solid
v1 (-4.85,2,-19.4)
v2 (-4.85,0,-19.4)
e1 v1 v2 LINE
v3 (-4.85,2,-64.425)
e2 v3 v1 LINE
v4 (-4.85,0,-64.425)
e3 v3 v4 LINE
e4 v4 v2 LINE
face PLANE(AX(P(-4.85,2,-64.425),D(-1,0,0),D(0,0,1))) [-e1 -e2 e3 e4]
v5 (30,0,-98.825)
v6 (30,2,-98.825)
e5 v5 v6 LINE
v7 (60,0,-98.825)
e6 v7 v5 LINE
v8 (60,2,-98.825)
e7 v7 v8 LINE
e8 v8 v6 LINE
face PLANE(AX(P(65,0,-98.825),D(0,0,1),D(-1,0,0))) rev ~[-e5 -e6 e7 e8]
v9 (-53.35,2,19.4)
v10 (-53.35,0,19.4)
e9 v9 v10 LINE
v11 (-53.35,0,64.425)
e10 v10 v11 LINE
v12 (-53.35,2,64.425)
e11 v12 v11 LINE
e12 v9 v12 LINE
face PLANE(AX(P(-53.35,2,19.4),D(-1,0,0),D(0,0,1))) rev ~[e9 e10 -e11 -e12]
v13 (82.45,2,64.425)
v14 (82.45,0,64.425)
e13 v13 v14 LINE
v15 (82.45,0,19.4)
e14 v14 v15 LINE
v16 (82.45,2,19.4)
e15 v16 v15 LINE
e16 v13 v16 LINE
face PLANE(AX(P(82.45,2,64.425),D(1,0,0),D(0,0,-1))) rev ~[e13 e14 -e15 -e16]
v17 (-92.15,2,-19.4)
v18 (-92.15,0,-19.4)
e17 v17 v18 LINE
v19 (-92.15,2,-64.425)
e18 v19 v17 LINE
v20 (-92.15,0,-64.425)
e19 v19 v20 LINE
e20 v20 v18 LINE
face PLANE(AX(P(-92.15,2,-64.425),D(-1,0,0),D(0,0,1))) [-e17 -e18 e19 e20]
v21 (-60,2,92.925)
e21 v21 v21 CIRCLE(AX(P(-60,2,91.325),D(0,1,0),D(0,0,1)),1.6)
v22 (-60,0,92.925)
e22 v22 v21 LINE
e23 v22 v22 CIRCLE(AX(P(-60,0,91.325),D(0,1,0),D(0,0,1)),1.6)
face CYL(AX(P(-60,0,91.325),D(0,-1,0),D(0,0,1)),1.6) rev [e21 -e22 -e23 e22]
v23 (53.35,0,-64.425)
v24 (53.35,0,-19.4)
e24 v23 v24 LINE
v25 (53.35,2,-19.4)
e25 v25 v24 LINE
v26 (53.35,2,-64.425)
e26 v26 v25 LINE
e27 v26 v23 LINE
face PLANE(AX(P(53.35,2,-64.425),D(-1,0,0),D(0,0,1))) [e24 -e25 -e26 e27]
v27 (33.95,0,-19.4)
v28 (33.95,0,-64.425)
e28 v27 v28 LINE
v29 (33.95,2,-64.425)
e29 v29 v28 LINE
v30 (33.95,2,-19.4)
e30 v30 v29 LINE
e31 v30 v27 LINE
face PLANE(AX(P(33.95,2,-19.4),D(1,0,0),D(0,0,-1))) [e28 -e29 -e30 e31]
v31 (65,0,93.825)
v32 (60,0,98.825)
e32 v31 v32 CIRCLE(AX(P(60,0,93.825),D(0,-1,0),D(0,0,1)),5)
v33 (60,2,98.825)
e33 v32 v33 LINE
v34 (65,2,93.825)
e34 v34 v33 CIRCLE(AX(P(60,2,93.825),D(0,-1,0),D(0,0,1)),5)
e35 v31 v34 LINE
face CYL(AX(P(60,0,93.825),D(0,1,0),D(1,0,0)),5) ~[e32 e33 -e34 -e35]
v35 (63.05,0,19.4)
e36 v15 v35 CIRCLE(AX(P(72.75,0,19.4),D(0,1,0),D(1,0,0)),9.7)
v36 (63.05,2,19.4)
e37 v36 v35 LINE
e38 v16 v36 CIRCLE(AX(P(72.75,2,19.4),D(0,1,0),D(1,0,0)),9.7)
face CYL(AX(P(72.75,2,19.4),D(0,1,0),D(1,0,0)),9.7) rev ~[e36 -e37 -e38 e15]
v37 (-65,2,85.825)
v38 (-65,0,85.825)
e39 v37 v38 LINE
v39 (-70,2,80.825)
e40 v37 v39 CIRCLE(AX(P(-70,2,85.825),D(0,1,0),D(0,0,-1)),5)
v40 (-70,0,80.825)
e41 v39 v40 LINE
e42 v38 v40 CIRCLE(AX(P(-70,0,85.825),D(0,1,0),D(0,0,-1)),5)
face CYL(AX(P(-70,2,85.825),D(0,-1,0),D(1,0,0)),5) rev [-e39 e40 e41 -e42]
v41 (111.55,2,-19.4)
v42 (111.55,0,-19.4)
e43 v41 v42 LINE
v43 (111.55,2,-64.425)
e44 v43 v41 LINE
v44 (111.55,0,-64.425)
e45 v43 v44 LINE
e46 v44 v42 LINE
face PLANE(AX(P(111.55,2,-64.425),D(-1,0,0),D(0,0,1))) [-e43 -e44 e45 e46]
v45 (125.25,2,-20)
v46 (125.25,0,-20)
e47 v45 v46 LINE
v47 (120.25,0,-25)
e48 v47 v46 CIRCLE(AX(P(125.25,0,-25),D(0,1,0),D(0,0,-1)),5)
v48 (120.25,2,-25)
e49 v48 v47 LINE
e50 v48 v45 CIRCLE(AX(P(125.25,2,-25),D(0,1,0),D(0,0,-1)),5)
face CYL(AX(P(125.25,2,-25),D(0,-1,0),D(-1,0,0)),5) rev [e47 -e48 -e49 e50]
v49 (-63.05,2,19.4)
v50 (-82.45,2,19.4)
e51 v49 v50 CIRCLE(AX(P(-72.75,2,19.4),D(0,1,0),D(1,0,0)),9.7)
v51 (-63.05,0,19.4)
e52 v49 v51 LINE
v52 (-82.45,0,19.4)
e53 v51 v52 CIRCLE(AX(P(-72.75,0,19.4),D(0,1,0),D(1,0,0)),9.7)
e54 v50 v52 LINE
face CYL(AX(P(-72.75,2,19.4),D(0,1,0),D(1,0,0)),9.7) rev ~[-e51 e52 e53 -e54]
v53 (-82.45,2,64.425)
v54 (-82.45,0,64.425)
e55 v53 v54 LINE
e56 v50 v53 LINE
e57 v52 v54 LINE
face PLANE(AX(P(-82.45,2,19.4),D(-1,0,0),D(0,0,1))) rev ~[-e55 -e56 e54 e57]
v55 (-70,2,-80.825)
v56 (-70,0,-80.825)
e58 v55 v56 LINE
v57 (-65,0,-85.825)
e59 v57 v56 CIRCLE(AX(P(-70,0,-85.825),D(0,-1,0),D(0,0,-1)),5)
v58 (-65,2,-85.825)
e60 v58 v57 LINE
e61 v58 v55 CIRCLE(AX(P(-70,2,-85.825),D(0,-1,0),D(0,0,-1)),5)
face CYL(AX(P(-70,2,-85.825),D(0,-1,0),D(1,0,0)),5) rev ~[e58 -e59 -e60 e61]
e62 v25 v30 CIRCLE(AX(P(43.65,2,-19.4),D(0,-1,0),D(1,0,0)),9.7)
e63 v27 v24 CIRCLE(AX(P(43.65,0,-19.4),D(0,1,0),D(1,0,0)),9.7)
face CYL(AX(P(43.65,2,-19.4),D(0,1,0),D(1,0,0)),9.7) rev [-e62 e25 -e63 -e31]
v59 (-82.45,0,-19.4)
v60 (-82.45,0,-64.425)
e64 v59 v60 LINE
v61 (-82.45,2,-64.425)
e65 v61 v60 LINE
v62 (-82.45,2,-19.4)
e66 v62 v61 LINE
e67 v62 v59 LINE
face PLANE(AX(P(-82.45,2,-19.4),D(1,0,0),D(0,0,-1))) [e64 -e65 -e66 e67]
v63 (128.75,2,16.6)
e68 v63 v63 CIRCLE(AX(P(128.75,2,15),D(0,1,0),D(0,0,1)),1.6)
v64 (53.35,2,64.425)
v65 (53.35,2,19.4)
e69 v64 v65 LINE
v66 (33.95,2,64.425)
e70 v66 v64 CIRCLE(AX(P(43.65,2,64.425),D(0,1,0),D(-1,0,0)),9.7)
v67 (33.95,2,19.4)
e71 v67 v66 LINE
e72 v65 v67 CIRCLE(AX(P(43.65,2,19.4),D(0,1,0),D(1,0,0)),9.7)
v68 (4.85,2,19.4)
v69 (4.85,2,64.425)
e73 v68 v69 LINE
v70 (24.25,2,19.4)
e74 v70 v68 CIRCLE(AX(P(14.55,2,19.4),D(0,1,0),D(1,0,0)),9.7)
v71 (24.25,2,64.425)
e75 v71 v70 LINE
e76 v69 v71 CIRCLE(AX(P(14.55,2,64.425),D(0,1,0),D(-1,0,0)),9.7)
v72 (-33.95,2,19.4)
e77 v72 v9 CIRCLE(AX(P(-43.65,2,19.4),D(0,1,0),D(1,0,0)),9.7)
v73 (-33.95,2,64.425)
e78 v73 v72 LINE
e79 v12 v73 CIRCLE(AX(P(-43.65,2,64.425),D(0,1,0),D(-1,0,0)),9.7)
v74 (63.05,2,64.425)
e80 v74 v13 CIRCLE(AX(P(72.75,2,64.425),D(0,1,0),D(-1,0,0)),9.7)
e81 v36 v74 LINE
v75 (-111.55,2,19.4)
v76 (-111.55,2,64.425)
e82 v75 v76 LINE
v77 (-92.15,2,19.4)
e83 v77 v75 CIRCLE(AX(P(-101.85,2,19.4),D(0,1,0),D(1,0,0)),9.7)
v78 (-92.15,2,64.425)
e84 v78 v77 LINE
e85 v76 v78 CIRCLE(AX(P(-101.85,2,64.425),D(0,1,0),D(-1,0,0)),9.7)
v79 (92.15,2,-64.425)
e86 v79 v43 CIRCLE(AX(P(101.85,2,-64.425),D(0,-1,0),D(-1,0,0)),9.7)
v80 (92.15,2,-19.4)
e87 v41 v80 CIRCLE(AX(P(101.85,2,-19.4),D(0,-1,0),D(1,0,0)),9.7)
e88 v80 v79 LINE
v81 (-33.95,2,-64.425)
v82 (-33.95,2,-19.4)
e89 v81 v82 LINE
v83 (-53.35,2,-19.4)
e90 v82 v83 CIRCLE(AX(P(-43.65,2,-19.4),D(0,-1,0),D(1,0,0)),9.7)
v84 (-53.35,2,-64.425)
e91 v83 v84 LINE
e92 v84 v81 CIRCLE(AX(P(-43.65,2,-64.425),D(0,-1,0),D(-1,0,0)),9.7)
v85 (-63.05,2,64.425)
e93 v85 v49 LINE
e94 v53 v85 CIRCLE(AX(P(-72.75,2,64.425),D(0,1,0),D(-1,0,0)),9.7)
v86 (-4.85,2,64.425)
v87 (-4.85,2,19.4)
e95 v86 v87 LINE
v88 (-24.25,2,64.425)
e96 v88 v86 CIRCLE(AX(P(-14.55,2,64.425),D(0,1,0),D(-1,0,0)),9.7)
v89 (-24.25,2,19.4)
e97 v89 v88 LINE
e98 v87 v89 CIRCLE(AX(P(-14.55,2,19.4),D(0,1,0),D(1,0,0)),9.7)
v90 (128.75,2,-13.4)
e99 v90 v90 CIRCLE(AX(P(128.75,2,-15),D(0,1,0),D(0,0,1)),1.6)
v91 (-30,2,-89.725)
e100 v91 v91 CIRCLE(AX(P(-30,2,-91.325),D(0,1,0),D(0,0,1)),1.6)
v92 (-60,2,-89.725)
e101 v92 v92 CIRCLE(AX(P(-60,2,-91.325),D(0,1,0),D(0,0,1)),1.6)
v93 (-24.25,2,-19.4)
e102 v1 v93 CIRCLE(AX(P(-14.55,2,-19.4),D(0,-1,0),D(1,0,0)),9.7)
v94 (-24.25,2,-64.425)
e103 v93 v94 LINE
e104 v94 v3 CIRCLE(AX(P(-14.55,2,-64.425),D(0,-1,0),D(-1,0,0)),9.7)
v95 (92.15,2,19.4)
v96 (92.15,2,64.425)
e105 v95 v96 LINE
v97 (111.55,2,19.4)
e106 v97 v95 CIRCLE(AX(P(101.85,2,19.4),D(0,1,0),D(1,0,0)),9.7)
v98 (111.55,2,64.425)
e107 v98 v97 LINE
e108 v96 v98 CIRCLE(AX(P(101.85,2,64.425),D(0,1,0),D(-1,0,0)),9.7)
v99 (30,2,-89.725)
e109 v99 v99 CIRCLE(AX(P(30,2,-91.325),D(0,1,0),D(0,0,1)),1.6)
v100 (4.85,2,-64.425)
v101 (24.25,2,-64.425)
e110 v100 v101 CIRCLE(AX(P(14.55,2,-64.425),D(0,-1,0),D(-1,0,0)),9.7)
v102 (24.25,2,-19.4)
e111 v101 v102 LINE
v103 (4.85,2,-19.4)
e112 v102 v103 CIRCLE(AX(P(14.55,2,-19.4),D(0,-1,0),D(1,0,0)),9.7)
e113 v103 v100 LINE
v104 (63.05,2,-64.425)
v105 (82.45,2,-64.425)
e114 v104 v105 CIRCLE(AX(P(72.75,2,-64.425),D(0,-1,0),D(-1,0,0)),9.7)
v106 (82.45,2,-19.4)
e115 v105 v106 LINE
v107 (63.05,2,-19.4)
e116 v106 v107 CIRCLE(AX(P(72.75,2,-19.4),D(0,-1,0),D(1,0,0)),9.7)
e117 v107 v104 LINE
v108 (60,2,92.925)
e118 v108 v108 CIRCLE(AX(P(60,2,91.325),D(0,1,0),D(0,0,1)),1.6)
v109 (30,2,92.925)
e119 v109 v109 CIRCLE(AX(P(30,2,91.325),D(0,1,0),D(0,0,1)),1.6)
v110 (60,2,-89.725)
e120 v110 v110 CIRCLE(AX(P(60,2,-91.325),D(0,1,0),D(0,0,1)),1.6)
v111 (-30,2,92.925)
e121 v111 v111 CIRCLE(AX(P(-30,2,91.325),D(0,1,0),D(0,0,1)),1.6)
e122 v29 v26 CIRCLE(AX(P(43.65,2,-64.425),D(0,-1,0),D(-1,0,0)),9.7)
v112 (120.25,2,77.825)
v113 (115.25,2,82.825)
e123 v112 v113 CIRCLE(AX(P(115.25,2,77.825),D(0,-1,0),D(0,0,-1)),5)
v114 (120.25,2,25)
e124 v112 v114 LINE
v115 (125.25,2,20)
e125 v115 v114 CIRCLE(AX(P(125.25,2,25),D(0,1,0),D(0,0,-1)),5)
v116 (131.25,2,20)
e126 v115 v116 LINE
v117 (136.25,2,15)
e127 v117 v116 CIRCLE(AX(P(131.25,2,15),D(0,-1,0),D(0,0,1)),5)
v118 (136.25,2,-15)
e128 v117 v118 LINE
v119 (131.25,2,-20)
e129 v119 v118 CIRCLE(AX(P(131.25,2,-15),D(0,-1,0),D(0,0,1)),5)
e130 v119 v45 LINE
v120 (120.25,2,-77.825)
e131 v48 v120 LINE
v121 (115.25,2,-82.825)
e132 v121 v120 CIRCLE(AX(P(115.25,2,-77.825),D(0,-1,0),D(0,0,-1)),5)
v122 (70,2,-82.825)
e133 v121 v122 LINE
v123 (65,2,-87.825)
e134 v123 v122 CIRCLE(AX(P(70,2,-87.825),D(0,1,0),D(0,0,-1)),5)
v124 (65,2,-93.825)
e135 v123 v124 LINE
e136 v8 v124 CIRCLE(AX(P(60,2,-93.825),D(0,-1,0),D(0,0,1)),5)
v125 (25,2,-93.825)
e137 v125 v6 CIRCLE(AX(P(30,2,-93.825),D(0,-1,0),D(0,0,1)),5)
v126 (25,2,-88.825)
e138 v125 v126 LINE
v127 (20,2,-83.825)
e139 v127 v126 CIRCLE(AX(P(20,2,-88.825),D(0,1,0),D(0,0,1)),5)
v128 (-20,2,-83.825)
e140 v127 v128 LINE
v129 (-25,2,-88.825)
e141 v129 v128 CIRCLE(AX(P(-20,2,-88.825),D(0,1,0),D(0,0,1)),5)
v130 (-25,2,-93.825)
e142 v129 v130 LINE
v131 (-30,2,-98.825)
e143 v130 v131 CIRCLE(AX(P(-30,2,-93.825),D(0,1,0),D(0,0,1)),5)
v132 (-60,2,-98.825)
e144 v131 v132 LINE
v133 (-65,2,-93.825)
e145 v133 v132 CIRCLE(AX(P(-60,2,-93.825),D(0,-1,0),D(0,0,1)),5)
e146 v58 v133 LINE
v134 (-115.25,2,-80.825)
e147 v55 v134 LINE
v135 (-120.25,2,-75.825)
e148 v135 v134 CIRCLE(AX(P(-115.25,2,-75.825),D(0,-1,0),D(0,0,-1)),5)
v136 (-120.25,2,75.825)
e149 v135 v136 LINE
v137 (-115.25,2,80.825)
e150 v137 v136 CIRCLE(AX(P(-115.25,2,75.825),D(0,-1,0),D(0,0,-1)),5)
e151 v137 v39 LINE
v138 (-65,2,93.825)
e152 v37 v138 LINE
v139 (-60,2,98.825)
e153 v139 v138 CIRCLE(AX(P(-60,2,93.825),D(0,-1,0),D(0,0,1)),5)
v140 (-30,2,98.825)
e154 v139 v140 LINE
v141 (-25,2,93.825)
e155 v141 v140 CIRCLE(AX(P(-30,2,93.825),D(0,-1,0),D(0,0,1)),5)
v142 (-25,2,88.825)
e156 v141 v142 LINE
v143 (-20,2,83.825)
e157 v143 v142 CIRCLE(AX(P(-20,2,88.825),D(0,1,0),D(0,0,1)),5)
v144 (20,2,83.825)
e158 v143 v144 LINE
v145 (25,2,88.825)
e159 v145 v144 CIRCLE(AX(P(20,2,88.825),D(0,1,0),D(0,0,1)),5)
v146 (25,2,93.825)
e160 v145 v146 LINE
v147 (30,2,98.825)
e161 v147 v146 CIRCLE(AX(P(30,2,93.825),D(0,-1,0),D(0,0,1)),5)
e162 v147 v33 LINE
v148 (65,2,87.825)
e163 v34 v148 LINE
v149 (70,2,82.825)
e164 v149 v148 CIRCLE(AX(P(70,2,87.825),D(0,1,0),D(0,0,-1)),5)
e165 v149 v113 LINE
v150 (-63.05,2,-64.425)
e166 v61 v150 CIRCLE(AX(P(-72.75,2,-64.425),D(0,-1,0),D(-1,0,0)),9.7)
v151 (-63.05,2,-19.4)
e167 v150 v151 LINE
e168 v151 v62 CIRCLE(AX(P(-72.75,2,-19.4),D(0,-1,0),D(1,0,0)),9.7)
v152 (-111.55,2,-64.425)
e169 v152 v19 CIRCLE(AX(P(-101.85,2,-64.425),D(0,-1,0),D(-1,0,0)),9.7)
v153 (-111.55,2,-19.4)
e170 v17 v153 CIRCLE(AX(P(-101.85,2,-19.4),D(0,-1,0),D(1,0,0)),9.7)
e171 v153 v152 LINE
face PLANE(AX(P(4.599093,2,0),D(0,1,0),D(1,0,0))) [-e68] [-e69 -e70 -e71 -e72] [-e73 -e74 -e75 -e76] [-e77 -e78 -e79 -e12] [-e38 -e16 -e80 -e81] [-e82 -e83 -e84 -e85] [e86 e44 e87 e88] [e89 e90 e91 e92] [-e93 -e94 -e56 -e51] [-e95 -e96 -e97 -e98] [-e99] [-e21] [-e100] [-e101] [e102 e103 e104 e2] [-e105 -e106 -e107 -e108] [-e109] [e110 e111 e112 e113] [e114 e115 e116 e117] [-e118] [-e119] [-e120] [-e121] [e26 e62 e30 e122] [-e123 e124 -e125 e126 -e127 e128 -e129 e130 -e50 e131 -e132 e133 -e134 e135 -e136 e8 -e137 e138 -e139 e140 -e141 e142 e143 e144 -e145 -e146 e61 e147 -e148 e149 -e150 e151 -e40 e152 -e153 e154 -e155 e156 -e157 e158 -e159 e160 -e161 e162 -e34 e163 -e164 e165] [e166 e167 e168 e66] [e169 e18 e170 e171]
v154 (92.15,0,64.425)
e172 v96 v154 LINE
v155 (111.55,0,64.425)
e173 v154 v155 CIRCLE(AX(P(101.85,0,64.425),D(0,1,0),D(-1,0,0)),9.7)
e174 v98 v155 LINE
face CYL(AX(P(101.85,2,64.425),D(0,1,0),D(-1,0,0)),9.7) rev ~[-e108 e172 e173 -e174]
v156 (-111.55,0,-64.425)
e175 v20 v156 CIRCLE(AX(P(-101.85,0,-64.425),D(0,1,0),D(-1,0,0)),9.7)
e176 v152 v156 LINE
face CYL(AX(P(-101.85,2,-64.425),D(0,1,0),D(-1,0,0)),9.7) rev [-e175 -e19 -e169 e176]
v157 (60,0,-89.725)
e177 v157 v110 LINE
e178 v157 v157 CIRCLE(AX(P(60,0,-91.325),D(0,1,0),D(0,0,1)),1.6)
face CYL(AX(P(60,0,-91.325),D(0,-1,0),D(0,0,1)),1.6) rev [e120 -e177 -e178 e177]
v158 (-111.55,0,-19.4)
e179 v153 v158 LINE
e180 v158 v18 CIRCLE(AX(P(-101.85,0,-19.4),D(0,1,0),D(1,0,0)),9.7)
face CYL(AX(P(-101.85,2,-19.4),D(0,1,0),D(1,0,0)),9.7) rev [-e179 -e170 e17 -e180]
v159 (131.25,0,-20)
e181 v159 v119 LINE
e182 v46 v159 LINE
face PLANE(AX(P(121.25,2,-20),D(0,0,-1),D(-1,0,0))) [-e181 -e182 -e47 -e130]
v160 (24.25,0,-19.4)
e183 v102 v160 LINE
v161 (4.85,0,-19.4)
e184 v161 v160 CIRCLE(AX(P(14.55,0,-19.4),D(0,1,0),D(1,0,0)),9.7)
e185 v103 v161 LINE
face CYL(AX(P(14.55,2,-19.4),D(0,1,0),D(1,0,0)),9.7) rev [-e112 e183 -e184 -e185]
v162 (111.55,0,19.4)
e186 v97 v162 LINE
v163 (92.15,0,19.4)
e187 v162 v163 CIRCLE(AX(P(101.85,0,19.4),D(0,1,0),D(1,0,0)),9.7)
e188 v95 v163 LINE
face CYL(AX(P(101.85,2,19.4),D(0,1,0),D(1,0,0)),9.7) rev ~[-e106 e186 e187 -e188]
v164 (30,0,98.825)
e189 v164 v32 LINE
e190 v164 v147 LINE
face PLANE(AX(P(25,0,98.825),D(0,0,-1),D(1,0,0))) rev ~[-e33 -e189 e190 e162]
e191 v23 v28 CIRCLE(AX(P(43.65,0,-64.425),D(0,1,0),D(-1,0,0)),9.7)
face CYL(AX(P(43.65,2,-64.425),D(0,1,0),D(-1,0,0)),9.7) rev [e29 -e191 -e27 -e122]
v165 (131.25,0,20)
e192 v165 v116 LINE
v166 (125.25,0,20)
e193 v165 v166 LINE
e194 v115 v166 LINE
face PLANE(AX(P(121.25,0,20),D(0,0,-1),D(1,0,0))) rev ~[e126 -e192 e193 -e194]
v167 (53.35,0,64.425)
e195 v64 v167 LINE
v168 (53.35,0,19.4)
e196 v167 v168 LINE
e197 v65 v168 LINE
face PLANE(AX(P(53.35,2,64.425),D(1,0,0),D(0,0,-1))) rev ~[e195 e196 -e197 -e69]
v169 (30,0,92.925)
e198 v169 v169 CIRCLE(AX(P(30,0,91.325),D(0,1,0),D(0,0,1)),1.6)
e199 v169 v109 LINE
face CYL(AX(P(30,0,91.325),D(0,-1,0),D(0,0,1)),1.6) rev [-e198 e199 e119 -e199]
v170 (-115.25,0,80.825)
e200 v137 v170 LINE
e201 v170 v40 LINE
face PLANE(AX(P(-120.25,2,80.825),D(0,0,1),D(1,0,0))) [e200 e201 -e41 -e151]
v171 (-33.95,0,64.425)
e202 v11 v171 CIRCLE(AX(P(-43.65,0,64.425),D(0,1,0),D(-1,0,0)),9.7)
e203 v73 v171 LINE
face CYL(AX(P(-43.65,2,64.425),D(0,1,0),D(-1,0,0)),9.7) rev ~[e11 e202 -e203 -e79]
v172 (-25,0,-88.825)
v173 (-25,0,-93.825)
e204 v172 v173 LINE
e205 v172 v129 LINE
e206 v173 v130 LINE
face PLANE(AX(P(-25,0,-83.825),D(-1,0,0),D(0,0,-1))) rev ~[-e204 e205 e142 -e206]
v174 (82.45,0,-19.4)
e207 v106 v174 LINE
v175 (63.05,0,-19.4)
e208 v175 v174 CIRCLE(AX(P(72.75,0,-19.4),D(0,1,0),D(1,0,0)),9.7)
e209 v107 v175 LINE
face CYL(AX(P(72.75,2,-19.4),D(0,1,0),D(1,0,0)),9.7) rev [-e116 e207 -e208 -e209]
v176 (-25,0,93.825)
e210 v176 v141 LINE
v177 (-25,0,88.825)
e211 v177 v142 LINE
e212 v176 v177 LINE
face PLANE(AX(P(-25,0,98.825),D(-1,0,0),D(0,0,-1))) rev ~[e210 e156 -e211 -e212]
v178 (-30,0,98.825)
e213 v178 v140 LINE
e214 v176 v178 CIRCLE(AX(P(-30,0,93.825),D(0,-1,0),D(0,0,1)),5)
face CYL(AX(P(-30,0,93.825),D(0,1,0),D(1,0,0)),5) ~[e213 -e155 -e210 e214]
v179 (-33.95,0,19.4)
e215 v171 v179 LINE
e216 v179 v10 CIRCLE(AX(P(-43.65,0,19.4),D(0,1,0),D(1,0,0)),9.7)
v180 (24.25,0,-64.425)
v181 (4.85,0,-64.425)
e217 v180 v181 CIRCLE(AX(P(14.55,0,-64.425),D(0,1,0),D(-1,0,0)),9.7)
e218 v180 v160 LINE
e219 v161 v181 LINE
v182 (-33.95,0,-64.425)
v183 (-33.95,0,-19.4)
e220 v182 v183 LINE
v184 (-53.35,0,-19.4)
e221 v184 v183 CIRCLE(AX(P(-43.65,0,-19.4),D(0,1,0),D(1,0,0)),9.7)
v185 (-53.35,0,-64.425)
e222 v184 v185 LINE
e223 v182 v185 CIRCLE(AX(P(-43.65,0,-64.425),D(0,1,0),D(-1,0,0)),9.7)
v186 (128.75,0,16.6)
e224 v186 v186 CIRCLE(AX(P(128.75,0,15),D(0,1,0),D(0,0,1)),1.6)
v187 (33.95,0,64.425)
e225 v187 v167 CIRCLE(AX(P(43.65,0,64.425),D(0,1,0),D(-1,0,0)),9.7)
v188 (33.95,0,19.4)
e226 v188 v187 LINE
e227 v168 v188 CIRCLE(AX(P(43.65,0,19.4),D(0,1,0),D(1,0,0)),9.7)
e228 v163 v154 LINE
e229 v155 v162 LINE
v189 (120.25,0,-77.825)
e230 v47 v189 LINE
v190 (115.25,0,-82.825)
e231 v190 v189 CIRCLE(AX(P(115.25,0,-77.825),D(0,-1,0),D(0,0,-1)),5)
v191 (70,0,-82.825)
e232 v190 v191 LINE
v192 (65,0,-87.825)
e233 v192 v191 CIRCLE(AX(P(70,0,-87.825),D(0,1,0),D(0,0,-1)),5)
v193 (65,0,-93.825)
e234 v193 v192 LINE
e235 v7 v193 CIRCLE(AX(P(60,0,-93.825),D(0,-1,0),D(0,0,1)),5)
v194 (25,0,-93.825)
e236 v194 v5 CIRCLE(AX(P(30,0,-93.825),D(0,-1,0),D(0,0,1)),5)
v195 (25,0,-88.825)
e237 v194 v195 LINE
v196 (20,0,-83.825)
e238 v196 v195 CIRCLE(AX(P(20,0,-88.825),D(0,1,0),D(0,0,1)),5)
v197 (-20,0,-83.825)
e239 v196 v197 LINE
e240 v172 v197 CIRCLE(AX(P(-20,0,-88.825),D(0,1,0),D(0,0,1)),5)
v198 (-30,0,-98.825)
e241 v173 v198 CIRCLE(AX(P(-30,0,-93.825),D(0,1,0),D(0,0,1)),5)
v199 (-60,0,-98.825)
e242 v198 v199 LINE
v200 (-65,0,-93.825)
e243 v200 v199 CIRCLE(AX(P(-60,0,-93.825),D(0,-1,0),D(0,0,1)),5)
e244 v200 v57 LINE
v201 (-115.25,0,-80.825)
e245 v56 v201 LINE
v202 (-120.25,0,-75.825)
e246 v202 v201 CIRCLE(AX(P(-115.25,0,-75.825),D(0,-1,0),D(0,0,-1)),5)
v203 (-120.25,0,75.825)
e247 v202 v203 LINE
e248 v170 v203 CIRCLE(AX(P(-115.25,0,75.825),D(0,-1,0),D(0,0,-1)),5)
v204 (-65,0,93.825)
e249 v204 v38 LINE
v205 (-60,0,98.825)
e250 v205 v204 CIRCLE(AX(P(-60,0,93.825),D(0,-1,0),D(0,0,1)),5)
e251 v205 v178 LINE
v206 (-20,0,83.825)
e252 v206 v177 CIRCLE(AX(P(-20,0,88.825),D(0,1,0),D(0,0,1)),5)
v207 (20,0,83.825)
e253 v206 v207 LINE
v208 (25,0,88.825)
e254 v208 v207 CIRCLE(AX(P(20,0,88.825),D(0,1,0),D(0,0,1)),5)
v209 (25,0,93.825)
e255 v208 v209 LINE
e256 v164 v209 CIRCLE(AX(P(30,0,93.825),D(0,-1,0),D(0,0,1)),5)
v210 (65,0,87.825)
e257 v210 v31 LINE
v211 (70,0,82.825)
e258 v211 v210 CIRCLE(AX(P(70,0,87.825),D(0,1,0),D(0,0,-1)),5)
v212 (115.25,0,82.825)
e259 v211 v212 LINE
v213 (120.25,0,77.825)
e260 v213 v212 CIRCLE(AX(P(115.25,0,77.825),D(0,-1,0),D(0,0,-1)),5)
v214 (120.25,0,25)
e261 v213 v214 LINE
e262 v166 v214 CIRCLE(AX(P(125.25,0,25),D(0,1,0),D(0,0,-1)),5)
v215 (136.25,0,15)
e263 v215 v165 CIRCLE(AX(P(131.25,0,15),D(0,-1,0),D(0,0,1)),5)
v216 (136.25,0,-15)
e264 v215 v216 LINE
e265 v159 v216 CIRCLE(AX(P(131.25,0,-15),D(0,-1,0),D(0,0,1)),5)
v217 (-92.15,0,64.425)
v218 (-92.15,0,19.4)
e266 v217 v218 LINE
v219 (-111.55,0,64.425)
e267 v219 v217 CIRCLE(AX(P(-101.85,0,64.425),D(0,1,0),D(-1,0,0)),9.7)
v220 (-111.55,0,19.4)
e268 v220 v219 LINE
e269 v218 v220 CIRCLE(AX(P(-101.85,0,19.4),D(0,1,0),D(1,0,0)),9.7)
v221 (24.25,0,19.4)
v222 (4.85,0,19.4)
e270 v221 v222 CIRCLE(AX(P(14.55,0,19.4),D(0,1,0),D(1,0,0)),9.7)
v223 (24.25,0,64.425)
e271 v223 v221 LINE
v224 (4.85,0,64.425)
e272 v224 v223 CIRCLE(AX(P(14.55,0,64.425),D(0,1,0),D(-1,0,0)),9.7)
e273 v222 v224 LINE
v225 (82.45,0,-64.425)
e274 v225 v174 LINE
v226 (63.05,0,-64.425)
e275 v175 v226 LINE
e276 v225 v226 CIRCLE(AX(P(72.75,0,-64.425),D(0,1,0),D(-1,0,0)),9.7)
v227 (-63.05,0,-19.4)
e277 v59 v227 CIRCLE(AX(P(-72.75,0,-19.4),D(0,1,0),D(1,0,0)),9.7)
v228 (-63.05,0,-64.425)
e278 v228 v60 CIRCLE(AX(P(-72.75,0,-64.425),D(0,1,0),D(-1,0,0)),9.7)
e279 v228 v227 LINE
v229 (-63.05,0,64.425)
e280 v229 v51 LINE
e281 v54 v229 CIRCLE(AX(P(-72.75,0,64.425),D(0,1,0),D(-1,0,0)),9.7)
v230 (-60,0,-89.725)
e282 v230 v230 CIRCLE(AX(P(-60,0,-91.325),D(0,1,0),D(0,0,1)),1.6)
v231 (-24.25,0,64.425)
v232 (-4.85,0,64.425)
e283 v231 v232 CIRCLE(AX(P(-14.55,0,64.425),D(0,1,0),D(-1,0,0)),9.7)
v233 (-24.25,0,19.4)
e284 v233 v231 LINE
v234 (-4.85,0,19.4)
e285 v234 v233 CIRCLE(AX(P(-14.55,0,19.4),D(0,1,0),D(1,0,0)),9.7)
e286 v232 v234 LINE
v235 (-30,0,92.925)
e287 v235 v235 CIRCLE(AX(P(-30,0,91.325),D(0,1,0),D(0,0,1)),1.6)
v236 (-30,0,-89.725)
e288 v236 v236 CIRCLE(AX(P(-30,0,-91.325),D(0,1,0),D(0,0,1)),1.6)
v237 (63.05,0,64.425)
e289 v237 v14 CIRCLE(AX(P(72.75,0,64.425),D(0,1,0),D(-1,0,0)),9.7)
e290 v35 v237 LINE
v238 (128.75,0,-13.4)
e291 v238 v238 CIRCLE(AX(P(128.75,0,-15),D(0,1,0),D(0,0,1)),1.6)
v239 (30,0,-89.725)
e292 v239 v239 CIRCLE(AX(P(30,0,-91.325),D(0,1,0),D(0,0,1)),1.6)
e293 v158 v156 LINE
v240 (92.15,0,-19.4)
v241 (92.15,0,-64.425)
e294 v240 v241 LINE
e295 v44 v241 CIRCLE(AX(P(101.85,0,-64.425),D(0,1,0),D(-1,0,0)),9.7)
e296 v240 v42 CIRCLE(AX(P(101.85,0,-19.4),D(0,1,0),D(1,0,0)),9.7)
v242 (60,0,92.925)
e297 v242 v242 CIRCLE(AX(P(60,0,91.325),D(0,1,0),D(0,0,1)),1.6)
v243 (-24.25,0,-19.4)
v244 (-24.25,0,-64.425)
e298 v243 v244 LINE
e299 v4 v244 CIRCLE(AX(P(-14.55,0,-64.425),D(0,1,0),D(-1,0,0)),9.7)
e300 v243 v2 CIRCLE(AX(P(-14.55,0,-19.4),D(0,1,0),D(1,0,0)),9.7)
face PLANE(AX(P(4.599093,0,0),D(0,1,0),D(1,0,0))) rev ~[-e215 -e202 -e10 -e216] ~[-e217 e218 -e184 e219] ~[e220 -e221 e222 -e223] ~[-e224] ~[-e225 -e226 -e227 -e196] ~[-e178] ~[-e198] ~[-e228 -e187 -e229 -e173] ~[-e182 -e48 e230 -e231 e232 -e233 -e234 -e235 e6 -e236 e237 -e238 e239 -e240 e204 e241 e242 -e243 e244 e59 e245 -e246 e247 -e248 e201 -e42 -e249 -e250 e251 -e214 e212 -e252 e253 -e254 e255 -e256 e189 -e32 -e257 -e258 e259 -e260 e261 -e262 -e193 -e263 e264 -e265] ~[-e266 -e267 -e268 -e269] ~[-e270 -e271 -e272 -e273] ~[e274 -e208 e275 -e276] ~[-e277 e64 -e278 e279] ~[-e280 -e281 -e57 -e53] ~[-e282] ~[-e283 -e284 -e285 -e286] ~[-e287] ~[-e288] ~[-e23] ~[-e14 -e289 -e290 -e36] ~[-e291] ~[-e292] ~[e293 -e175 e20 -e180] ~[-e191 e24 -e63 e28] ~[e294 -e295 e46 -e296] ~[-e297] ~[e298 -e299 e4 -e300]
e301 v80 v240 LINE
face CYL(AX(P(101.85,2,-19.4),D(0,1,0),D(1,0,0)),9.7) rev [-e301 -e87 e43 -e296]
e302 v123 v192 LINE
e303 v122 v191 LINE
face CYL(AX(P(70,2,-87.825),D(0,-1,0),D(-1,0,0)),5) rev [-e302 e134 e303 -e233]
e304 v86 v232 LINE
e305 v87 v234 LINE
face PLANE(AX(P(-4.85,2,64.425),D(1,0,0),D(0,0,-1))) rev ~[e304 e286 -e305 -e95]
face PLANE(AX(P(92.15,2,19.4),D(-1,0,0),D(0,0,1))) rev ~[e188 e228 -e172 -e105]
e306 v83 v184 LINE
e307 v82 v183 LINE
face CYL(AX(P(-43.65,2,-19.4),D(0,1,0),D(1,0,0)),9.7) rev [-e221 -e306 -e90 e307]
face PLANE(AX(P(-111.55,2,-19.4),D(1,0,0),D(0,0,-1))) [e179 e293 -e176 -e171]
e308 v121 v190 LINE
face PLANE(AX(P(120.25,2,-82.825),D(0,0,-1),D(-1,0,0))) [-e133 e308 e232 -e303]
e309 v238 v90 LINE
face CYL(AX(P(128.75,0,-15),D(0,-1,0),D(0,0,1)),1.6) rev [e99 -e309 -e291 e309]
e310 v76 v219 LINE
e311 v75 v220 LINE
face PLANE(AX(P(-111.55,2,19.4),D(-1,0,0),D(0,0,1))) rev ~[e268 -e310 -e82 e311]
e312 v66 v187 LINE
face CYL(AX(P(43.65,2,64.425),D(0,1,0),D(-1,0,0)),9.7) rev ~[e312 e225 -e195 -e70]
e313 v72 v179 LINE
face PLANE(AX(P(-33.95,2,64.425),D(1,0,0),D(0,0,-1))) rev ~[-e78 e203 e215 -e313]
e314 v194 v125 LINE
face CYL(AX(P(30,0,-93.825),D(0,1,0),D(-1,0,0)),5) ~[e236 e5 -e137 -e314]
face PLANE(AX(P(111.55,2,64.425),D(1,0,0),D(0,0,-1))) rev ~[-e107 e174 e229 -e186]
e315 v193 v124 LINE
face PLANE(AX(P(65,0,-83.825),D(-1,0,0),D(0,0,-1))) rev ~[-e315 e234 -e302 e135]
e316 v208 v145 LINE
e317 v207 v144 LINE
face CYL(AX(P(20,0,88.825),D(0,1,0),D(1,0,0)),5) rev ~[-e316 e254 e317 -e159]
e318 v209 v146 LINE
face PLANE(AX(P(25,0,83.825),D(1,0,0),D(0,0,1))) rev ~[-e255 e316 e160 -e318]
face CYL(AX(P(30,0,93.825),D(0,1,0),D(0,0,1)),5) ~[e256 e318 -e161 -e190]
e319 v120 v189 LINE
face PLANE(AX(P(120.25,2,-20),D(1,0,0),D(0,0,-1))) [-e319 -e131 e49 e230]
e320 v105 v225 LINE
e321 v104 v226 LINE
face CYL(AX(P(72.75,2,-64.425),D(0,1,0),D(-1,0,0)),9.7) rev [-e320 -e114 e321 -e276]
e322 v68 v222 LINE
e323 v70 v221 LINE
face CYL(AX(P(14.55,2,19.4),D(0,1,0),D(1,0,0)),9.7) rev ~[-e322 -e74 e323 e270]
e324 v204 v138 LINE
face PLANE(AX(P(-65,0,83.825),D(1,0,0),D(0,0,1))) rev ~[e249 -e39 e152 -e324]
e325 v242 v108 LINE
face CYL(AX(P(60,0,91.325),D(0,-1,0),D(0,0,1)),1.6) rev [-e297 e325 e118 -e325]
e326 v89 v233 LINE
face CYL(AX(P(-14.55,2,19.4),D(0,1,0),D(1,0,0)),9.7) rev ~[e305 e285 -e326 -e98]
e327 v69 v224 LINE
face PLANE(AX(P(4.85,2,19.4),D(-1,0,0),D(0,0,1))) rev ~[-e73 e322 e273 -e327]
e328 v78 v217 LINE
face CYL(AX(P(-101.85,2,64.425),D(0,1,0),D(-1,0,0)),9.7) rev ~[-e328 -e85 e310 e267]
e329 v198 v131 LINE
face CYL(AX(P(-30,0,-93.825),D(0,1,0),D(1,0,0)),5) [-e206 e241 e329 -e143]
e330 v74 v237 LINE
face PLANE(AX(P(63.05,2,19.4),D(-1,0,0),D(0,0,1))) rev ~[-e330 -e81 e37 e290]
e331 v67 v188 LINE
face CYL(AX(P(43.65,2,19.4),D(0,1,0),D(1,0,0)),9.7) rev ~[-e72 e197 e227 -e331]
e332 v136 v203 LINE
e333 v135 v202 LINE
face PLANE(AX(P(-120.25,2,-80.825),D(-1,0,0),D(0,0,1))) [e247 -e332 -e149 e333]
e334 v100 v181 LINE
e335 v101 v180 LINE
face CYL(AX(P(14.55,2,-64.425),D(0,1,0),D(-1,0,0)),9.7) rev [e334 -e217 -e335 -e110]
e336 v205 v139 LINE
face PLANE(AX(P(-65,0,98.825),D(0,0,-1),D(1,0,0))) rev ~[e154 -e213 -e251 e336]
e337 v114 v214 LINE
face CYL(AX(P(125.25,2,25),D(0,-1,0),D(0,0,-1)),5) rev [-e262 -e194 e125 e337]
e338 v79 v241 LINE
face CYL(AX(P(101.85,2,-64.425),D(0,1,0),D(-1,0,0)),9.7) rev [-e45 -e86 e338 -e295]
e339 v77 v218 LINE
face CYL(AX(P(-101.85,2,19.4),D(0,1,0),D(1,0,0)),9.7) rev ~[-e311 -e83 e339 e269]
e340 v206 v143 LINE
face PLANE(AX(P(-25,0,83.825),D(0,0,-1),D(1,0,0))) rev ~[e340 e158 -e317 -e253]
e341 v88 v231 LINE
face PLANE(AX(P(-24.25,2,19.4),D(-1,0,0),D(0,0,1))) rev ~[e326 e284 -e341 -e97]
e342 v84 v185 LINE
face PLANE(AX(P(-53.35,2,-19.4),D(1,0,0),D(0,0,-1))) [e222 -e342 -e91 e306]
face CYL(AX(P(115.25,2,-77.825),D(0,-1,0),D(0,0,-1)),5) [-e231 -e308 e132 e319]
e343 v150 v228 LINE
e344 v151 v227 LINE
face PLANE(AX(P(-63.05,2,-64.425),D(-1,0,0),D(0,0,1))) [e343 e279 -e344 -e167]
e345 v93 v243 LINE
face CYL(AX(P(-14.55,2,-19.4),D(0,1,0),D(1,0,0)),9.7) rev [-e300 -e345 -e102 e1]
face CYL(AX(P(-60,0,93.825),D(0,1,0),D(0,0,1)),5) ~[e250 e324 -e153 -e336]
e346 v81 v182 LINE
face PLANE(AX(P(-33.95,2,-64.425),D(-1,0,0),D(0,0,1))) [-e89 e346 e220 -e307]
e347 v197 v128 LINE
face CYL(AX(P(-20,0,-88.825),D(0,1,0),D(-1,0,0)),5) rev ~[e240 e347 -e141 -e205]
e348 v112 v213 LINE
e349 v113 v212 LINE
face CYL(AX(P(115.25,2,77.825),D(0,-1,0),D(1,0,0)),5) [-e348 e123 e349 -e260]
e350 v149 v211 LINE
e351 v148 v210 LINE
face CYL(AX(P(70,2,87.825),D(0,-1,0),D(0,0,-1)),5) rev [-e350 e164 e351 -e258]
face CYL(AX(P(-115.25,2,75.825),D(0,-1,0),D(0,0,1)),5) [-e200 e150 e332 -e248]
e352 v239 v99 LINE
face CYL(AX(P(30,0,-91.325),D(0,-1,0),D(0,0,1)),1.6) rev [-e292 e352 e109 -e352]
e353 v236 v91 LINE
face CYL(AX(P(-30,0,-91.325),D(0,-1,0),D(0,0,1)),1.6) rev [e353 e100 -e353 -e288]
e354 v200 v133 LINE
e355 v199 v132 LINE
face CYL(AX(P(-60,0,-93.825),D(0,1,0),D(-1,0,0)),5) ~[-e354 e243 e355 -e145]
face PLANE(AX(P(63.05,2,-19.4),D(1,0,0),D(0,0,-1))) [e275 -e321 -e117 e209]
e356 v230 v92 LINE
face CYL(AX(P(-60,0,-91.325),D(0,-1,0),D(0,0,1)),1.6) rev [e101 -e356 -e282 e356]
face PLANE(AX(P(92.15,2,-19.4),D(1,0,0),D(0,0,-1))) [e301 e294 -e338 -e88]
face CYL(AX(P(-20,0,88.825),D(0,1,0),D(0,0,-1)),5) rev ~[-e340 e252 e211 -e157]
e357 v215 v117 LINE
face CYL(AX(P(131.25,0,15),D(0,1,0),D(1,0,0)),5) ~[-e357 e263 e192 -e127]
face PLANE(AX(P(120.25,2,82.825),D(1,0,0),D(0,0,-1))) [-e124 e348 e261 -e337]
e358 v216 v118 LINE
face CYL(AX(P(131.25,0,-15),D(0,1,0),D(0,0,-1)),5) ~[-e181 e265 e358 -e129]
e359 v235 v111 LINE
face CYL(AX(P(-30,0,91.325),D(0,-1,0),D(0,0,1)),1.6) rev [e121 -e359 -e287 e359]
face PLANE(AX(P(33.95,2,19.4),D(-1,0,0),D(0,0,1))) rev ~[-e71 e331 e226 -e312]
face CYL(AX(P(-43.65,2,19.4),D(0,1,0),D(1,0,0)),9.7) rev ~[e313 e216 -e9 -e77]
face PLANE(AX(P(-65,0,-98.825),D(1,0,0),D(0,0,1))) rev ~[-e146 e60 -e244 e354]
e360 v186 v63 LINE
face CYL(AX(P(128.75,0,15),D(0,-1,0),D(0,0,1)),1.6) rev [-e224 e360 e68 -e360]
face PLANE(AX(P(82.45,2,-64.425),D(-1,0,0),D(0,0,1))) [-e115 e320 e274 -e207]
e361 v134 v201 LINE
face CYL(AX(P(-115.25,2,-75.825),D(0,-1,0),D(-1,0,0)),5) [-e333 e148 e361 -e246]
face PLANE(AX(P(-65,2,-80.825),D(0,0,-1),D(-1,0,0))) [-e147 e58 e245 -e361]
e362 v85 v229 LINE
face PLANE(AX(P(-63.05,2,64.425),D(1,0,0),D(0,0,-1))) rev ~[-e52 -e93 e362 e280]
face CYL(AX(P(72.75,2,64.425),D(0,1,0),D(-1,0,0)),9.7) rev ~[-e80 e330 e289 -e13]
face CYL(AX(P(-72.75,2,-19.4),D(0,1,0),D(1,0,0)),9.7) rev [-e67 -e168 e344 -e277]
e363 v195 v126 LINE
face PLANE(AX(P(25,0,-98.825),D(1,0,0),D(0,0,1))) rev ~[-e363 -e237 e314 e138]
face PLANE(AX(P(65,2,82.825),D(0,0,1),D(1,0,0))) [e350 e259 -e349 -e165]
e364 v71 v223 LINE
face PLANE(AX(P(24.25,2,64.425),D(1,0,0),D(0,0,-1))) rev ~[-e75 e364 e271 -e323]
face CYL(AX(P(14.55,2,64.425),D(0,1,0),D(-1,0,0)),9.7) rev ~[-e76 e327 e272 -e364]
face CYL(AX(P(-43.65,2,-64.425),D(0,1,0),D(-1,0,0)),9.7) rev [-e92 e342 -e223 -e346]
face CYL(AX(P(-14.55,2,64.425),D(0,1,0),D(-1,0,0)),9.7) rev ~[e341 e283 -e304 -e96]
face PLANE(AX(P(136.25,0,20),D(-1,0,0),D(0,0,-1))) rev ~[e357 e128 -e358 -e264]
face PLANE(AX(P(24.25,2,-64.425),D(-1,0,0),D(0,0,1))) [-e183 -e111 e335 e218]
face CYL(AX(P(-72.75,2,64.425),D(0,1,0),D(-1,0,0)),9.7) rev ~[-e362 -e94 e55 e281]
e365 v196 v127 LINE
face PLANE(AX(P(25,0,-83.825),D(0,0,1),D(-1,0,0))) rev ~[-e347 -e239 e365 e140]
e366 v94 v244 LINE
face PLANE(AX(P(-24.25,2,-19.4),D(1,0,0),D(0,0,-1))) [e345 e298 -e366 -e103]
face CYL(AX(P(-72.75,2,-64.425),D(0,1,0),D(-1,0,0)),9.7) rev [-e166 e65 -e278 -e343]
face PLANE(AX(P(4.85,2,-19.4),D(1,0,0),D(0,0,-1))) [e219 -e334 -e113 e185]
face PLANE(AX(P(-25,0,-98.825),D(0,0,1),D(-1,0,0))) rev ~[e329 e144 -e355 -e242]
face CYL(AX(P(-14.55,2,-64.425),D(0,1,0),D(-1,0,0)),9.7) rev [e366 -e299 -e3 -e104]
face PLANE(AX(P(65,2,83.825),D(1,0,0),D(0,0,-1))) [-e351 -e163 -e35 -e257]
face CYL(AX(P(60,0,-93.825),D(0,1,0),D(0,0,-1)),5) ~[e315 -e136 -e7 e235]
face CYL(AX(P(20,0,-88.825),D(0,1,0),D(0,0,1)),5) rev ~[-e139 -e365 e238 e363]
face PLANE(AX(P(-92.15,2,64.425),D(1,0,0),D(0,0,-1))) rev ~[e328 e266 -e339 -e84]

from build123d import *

# Parameters (mm, degrees)
SKETCH_1_R          = 1.6
EXTRUDE_1_DEPTH     = 2
CUT_EXTRUDE_3_DEPTH = 169.328378846
CUT_EXTRUDE_4_DEPTH = 169.328378846
FILLET_2_R          = 5


with BuildPart() as part:
    # 草图1 → 凸台-拉伸1 (new body)
    with BuildSketch(Plane(origin=(0, 0, 0), x_dir=(1, 0, 0), z_dir=(0, 1, 0))):
        Polygon((-121.25, 83.825), (-121.25, -83.825), (-65, -83.825), (-65, -98.825), (-25, -98.825), (-25, -83.825), (25, -83.825), (25, -98.825), (65, -98.825), (65, -83.825), (121.25, -83.825), (121.25, -20), (136.25, -20), (136.25, 20), (121.25, 20), (121.25, 83.825), (65, 83.825), (65, 98.825), (25, 98.825), (25, 83.825), (-25, 83.825), (-25, 98.825), (-65, 98.825), (-65, 83.825), align=None)
        with Locations(Location((-30, -91.325, 0), (0, 0, 270))):
            Circle(SKETCH_1_R, mode=Mode.SUBTRACT)
        with Locations(Location((-60, -91.325, 0), (0, 0, 270))):
            Circle(SKETCH_1_R, mode=Mode.SUBTRACT)
        with Locations(Location((-30, 91.325, 0), (0, 0, 270))):
            Circle(SKETCH_1_R, mode=Mode.SUBTRACT)
        with Locations(Location((-60, 91.325, 0), (0, 0, 270))):
            Circle(SKETCH_1_R, mode=Mode.SUBTRACT)
        with Locations(Location((60, -91.325, 0), (0, 0, 270))):
            Circle(SKETCH_1_R, mode=Mode.SUBTRACT)
        with Locations(Location((30, -91.325, 0), (0, 0, 270))):
            Circle(SKETCH_1_R, mode=Mode.SUBTRACT)
        with Locations(Location((60, 91.325, 0), (0, 0, 270))):
            Circle(SKETCH_1_R, mode=Mode.SUBTRACT)
        with Locations(Location((30, 91.325, 0), (0, 0, 270))):
            Circle(SKETCH_1_R, mode=Mode.SUBTRACT)
        with Locations(Location((128.75, 15, 0), (0, 0, 270))):
            Circle(SKETCH_1_R, mode=Mode.SUBTRACT)
        with Locations(Location((128.75, -15, 0), (0, 0, 270))):
            Circle(SKETCH_1_R, mode=Mode.SUBTRACT)
    extrude(amount=EXTRUDE_1_DEPTH)

    # 草图4 → 切除-拉伸3 (cut, through all)
    with BuildSketch(Plane(origin=(0, 2, 0), x_dir=(1, 0, 0), z_dir=(0, 1, 0))):
        with BuildLine():
            Line((-92.15, 64.425), (-92.15, 19.4))
            ThreePointArc((-92.15, 19.4), (-101.85, 9.7), (-111.55, 19.4))
            Line((-111.55, 19.4), (-111.55, 64.425))
            ThreePointArc((-111.55, 64.425), (-101.85, 74.125), (-92.15, 64.425))
        make_face()
        with BuildLine():
            Line((-63.05, 64.425), (-63.05, 19.4))
            ThreePointArc((-63.05, 19.4), (-72.75, 9.7), (-82.45, 19.4))
            Line((-82.45, 19.4), (-82.45, 64.425))
            ThreePointArc((-82.45, 64.425), (-72.75, 74.125), (-63.05, 64.425))
        make_face()
        with BuildLine():
            Line((-33.95, 64.425), (-33.95, 19.4))
            ThreePointArc((-33.95, 19.4), (-43.65, 9.7), (-53.35, 19.4))
            Line((-53.35, 19.4), (-53.35, 64.425))
            ThreePointArc((-53.35, 64.425), (-43.65, 74.125), (-33.95, 64.425))
        make_face()
        with BuildLine():
            Line((-4.85, 64.425), (-4.85, 19.4))
            ThreePointArc((-4.85, 19.4), (-14.55, 9.7), (-24.25, 19.4))
            Line((-24.25, 19.4), (-24.25, 64.425))
            ThreePointArc((-24.25, 64.425), (-14.55, 74.125), (-4.85, 64.425))
        make_face()
        with BuildLine():
            Line((24.25, 64.425), (24.25, 19.4))
            ThreePointArc((24.25, 19.4), (14.55, 9.7), (4.85, 19.4))
            Line((4.85, 19.4), (4.85, 64.425))
            ThreePointArc((4.85, 64.425), (14.55, 74.125), (24.25, 64.425))
        make_face()
        with BuildLine():
            Line((53.35, 64.425), (53.35, 19.4))
            ThreePointArc((53.35, 19.4), (43.65, 9.7), (33.95, 19.4))
            Line((33.95, 19.4), (33.95, 64.425))
            ThreePointArc((33.95, 64.425), (43.65, 74.125), (53.35, 64.425))
        make_face()
        with BuildLine():
            Line((82.45, 64.425), (82.45, 19.4))
            ThreePointArc((82.45, 19.4), (72.75, 9.7), (63.05, 19.4))
            Line((63.05, 19.4), (63.05, 64.425))
            ThreePointArc((63.05, 64.425), (72.75, 74.125), (82.45, 64.425))
        make_face()
        with BuildLine():
            Line((111.55, 64.425), (111.55, 19.4))
            ThreePointArc((111.55, 19.4), (101.85, 9.7), (92.15, 19.4))
            Line((92.15, 19.4), (92.15, 64.425))
            ThreePointArc((92.15, 64.425), (101.85, 74.125), (111.55, 64.425))
        make_face()
        with BuildLine():
            Line((111.55, -64.425), (111.55, -19.4))
            ThreePointArc((111.55, -19.4), (101.85, -9.7), (92.15, -19.4))
            Line((92.15, -19.4), (92.15, -64.425))
            ThreePointArc((92.15, -64.425), (101.85, -74.125), (111.55, -64.425))
        make_face()
        with BuildLine():
            Line((82.45, -64.425), (82.45, -19.4))
            ThreePointArc((82.45, -19.4), (72.75, -9.7), (63.05, -19.4))
            Line((63.05, -19.4), (63.05, -64.425))
            ThreePointArc((63.05, -64.425), (72.75, -74.125), (82.45, -64.425))
        make_face()
        with BuildLine():
            Line((53.35, -64.425), (53.35, -19.4))
            ThreePointArc((53.35, -19.4), (43.65, -9.7), (33.95, -19.4))
            Line((33.95, -19.4), (33.95, -64.425))
            ThreePointArc((33.95, -64.425), (43.65, -74.125), (53.35, -64.425))
        make_face()
        with BuildLine():
            Line((24.25, -64.425), (24.25, -19.4))
            ThreePointArc((24.25, -19.4), (14.55, -9.7), (4.85, -19.4))
            Line((4.85, -19.4), (4.85, -64.425))
            ThreePointArc((4.85, -64.425), (14.55, -74.125), (24.25, -64.425))
        make_face()
        with BuildLine():
            Line((-4.85, -64.425), (-4.85, -19.4))
            ThreePointArc((-4.85, -19.4), (-14.55, -9.7), (-24.25, -19.4))
            Line((-24.25, -19.4), (-24.25, -64.425))
            ThreePointArc((-24.25, -64.425), (-14.55, -74.125), (-4.85, -64.425))
        make_face()
        with BuildLine():
            Line((-33.95, -64.425), (-33.95, -19.4))
            ThreePointArc((-33.95, -19.4), (-43.65, -9.7), (-53.35, -19.4))
            Line((-53.35, -19.4), (-53.35, -64.425))
            ThreePointArc((-53.35, -64.425), (-43.65, -74.125), (-33.95, -64.425))
        make_face()
        with BuildLine():
            Line((-63.05, -64.425), (-63.05, -19.4))
            ThreePointArc((-63.05, -19.4), (-72.75, -9.7), (-82.45, -19.4))
            Line((-82.45, -19.4), (-82.45, -64.425))
            ThreePointArc((-82.45, -64.425), (-72.75, -74.125), (-63.05, -64.425))
        make_face()
        with BuildLine():
            Line((-92.15, -64.425), (-92.15, -19.4))
            ThreePointArc((-92.15, -19.4), (-101.85, -9.7), (-111.55, -19.4))
            Line((-111.55, -19.4), (-111.55, -64.425))
            ThreePointArc((-111.55, -64.425), (-101.85, -74.125), (-92.15, -64.425))
        make_face()
    extrude(amount=-CUT_EXTRUDE_3_DEPTH, mode=Mode.SUBTRACT)

    # 草图5 → 切除-拉伸4 (cut, through all)
    with BuildSketch(Plane(origin=(0, 2, 0), x_dir=(1, 0, 0), z_dir=(0, 1, 0))):
        Polygon((-65, 83.825), (-65, 80.825), (-120.25, 80.825), (-120.25, -80.825), (-65, -80.825), (-65, -83.825), (-121.25, -83.825), (-121.25, 83.825), align=None)
        Polygon((65, -83.825), (65, -82.825), (120.25, -82.825), (120.25, -20), (121.25, -20), (121.25, -83.825), align=None)
        Polygon((121.25, 20), (120.25, 20), (120.25, 82.825), (65, 82.825), (65, 83.825), (121.25, 83.825), align=None)
    extrude(amount=-CUT_EXTRUDE_4_DEPTH, mode=Mode.SUBTRACT)

    # 圆角2
    fillet_2_edges = [part.edges().sort_by_distance(p)[0] for p in [
        (-65, 1, -80.825),
        (-120.25, 1, -80.825),
        (-120.25, 1, 80.825),
        (-65, 1, 80.825),
        (65, 1, 82.825),
        (120.25, 1, 82.825),
        (120.25, 1, 20),
        (120.25, 1, -20),
        (120.25, 1, -82.825),
        (65, 1, -82.825),
        (-65, 1, -98.825),
        (-25, 1, -98.825),
        (-25, 1, -83.825),
        (25, 1, -83.825),
        (25, 1, -98.825),
        (65, 1, -98.825),
        (136.25, 1, -20),
        (136.25, 1, 20),
        (65, 1, 98.825),
        (25, 1, 98.825),
        (25, 1, 83.825),
        (-25, 1, 83.825),
        (-25, 1, 98.825),
        (-65, 1, 98.825),
    ]]
    fillet(fillet_2_edges, radius=FILLET_2_R)


solid = part.part
